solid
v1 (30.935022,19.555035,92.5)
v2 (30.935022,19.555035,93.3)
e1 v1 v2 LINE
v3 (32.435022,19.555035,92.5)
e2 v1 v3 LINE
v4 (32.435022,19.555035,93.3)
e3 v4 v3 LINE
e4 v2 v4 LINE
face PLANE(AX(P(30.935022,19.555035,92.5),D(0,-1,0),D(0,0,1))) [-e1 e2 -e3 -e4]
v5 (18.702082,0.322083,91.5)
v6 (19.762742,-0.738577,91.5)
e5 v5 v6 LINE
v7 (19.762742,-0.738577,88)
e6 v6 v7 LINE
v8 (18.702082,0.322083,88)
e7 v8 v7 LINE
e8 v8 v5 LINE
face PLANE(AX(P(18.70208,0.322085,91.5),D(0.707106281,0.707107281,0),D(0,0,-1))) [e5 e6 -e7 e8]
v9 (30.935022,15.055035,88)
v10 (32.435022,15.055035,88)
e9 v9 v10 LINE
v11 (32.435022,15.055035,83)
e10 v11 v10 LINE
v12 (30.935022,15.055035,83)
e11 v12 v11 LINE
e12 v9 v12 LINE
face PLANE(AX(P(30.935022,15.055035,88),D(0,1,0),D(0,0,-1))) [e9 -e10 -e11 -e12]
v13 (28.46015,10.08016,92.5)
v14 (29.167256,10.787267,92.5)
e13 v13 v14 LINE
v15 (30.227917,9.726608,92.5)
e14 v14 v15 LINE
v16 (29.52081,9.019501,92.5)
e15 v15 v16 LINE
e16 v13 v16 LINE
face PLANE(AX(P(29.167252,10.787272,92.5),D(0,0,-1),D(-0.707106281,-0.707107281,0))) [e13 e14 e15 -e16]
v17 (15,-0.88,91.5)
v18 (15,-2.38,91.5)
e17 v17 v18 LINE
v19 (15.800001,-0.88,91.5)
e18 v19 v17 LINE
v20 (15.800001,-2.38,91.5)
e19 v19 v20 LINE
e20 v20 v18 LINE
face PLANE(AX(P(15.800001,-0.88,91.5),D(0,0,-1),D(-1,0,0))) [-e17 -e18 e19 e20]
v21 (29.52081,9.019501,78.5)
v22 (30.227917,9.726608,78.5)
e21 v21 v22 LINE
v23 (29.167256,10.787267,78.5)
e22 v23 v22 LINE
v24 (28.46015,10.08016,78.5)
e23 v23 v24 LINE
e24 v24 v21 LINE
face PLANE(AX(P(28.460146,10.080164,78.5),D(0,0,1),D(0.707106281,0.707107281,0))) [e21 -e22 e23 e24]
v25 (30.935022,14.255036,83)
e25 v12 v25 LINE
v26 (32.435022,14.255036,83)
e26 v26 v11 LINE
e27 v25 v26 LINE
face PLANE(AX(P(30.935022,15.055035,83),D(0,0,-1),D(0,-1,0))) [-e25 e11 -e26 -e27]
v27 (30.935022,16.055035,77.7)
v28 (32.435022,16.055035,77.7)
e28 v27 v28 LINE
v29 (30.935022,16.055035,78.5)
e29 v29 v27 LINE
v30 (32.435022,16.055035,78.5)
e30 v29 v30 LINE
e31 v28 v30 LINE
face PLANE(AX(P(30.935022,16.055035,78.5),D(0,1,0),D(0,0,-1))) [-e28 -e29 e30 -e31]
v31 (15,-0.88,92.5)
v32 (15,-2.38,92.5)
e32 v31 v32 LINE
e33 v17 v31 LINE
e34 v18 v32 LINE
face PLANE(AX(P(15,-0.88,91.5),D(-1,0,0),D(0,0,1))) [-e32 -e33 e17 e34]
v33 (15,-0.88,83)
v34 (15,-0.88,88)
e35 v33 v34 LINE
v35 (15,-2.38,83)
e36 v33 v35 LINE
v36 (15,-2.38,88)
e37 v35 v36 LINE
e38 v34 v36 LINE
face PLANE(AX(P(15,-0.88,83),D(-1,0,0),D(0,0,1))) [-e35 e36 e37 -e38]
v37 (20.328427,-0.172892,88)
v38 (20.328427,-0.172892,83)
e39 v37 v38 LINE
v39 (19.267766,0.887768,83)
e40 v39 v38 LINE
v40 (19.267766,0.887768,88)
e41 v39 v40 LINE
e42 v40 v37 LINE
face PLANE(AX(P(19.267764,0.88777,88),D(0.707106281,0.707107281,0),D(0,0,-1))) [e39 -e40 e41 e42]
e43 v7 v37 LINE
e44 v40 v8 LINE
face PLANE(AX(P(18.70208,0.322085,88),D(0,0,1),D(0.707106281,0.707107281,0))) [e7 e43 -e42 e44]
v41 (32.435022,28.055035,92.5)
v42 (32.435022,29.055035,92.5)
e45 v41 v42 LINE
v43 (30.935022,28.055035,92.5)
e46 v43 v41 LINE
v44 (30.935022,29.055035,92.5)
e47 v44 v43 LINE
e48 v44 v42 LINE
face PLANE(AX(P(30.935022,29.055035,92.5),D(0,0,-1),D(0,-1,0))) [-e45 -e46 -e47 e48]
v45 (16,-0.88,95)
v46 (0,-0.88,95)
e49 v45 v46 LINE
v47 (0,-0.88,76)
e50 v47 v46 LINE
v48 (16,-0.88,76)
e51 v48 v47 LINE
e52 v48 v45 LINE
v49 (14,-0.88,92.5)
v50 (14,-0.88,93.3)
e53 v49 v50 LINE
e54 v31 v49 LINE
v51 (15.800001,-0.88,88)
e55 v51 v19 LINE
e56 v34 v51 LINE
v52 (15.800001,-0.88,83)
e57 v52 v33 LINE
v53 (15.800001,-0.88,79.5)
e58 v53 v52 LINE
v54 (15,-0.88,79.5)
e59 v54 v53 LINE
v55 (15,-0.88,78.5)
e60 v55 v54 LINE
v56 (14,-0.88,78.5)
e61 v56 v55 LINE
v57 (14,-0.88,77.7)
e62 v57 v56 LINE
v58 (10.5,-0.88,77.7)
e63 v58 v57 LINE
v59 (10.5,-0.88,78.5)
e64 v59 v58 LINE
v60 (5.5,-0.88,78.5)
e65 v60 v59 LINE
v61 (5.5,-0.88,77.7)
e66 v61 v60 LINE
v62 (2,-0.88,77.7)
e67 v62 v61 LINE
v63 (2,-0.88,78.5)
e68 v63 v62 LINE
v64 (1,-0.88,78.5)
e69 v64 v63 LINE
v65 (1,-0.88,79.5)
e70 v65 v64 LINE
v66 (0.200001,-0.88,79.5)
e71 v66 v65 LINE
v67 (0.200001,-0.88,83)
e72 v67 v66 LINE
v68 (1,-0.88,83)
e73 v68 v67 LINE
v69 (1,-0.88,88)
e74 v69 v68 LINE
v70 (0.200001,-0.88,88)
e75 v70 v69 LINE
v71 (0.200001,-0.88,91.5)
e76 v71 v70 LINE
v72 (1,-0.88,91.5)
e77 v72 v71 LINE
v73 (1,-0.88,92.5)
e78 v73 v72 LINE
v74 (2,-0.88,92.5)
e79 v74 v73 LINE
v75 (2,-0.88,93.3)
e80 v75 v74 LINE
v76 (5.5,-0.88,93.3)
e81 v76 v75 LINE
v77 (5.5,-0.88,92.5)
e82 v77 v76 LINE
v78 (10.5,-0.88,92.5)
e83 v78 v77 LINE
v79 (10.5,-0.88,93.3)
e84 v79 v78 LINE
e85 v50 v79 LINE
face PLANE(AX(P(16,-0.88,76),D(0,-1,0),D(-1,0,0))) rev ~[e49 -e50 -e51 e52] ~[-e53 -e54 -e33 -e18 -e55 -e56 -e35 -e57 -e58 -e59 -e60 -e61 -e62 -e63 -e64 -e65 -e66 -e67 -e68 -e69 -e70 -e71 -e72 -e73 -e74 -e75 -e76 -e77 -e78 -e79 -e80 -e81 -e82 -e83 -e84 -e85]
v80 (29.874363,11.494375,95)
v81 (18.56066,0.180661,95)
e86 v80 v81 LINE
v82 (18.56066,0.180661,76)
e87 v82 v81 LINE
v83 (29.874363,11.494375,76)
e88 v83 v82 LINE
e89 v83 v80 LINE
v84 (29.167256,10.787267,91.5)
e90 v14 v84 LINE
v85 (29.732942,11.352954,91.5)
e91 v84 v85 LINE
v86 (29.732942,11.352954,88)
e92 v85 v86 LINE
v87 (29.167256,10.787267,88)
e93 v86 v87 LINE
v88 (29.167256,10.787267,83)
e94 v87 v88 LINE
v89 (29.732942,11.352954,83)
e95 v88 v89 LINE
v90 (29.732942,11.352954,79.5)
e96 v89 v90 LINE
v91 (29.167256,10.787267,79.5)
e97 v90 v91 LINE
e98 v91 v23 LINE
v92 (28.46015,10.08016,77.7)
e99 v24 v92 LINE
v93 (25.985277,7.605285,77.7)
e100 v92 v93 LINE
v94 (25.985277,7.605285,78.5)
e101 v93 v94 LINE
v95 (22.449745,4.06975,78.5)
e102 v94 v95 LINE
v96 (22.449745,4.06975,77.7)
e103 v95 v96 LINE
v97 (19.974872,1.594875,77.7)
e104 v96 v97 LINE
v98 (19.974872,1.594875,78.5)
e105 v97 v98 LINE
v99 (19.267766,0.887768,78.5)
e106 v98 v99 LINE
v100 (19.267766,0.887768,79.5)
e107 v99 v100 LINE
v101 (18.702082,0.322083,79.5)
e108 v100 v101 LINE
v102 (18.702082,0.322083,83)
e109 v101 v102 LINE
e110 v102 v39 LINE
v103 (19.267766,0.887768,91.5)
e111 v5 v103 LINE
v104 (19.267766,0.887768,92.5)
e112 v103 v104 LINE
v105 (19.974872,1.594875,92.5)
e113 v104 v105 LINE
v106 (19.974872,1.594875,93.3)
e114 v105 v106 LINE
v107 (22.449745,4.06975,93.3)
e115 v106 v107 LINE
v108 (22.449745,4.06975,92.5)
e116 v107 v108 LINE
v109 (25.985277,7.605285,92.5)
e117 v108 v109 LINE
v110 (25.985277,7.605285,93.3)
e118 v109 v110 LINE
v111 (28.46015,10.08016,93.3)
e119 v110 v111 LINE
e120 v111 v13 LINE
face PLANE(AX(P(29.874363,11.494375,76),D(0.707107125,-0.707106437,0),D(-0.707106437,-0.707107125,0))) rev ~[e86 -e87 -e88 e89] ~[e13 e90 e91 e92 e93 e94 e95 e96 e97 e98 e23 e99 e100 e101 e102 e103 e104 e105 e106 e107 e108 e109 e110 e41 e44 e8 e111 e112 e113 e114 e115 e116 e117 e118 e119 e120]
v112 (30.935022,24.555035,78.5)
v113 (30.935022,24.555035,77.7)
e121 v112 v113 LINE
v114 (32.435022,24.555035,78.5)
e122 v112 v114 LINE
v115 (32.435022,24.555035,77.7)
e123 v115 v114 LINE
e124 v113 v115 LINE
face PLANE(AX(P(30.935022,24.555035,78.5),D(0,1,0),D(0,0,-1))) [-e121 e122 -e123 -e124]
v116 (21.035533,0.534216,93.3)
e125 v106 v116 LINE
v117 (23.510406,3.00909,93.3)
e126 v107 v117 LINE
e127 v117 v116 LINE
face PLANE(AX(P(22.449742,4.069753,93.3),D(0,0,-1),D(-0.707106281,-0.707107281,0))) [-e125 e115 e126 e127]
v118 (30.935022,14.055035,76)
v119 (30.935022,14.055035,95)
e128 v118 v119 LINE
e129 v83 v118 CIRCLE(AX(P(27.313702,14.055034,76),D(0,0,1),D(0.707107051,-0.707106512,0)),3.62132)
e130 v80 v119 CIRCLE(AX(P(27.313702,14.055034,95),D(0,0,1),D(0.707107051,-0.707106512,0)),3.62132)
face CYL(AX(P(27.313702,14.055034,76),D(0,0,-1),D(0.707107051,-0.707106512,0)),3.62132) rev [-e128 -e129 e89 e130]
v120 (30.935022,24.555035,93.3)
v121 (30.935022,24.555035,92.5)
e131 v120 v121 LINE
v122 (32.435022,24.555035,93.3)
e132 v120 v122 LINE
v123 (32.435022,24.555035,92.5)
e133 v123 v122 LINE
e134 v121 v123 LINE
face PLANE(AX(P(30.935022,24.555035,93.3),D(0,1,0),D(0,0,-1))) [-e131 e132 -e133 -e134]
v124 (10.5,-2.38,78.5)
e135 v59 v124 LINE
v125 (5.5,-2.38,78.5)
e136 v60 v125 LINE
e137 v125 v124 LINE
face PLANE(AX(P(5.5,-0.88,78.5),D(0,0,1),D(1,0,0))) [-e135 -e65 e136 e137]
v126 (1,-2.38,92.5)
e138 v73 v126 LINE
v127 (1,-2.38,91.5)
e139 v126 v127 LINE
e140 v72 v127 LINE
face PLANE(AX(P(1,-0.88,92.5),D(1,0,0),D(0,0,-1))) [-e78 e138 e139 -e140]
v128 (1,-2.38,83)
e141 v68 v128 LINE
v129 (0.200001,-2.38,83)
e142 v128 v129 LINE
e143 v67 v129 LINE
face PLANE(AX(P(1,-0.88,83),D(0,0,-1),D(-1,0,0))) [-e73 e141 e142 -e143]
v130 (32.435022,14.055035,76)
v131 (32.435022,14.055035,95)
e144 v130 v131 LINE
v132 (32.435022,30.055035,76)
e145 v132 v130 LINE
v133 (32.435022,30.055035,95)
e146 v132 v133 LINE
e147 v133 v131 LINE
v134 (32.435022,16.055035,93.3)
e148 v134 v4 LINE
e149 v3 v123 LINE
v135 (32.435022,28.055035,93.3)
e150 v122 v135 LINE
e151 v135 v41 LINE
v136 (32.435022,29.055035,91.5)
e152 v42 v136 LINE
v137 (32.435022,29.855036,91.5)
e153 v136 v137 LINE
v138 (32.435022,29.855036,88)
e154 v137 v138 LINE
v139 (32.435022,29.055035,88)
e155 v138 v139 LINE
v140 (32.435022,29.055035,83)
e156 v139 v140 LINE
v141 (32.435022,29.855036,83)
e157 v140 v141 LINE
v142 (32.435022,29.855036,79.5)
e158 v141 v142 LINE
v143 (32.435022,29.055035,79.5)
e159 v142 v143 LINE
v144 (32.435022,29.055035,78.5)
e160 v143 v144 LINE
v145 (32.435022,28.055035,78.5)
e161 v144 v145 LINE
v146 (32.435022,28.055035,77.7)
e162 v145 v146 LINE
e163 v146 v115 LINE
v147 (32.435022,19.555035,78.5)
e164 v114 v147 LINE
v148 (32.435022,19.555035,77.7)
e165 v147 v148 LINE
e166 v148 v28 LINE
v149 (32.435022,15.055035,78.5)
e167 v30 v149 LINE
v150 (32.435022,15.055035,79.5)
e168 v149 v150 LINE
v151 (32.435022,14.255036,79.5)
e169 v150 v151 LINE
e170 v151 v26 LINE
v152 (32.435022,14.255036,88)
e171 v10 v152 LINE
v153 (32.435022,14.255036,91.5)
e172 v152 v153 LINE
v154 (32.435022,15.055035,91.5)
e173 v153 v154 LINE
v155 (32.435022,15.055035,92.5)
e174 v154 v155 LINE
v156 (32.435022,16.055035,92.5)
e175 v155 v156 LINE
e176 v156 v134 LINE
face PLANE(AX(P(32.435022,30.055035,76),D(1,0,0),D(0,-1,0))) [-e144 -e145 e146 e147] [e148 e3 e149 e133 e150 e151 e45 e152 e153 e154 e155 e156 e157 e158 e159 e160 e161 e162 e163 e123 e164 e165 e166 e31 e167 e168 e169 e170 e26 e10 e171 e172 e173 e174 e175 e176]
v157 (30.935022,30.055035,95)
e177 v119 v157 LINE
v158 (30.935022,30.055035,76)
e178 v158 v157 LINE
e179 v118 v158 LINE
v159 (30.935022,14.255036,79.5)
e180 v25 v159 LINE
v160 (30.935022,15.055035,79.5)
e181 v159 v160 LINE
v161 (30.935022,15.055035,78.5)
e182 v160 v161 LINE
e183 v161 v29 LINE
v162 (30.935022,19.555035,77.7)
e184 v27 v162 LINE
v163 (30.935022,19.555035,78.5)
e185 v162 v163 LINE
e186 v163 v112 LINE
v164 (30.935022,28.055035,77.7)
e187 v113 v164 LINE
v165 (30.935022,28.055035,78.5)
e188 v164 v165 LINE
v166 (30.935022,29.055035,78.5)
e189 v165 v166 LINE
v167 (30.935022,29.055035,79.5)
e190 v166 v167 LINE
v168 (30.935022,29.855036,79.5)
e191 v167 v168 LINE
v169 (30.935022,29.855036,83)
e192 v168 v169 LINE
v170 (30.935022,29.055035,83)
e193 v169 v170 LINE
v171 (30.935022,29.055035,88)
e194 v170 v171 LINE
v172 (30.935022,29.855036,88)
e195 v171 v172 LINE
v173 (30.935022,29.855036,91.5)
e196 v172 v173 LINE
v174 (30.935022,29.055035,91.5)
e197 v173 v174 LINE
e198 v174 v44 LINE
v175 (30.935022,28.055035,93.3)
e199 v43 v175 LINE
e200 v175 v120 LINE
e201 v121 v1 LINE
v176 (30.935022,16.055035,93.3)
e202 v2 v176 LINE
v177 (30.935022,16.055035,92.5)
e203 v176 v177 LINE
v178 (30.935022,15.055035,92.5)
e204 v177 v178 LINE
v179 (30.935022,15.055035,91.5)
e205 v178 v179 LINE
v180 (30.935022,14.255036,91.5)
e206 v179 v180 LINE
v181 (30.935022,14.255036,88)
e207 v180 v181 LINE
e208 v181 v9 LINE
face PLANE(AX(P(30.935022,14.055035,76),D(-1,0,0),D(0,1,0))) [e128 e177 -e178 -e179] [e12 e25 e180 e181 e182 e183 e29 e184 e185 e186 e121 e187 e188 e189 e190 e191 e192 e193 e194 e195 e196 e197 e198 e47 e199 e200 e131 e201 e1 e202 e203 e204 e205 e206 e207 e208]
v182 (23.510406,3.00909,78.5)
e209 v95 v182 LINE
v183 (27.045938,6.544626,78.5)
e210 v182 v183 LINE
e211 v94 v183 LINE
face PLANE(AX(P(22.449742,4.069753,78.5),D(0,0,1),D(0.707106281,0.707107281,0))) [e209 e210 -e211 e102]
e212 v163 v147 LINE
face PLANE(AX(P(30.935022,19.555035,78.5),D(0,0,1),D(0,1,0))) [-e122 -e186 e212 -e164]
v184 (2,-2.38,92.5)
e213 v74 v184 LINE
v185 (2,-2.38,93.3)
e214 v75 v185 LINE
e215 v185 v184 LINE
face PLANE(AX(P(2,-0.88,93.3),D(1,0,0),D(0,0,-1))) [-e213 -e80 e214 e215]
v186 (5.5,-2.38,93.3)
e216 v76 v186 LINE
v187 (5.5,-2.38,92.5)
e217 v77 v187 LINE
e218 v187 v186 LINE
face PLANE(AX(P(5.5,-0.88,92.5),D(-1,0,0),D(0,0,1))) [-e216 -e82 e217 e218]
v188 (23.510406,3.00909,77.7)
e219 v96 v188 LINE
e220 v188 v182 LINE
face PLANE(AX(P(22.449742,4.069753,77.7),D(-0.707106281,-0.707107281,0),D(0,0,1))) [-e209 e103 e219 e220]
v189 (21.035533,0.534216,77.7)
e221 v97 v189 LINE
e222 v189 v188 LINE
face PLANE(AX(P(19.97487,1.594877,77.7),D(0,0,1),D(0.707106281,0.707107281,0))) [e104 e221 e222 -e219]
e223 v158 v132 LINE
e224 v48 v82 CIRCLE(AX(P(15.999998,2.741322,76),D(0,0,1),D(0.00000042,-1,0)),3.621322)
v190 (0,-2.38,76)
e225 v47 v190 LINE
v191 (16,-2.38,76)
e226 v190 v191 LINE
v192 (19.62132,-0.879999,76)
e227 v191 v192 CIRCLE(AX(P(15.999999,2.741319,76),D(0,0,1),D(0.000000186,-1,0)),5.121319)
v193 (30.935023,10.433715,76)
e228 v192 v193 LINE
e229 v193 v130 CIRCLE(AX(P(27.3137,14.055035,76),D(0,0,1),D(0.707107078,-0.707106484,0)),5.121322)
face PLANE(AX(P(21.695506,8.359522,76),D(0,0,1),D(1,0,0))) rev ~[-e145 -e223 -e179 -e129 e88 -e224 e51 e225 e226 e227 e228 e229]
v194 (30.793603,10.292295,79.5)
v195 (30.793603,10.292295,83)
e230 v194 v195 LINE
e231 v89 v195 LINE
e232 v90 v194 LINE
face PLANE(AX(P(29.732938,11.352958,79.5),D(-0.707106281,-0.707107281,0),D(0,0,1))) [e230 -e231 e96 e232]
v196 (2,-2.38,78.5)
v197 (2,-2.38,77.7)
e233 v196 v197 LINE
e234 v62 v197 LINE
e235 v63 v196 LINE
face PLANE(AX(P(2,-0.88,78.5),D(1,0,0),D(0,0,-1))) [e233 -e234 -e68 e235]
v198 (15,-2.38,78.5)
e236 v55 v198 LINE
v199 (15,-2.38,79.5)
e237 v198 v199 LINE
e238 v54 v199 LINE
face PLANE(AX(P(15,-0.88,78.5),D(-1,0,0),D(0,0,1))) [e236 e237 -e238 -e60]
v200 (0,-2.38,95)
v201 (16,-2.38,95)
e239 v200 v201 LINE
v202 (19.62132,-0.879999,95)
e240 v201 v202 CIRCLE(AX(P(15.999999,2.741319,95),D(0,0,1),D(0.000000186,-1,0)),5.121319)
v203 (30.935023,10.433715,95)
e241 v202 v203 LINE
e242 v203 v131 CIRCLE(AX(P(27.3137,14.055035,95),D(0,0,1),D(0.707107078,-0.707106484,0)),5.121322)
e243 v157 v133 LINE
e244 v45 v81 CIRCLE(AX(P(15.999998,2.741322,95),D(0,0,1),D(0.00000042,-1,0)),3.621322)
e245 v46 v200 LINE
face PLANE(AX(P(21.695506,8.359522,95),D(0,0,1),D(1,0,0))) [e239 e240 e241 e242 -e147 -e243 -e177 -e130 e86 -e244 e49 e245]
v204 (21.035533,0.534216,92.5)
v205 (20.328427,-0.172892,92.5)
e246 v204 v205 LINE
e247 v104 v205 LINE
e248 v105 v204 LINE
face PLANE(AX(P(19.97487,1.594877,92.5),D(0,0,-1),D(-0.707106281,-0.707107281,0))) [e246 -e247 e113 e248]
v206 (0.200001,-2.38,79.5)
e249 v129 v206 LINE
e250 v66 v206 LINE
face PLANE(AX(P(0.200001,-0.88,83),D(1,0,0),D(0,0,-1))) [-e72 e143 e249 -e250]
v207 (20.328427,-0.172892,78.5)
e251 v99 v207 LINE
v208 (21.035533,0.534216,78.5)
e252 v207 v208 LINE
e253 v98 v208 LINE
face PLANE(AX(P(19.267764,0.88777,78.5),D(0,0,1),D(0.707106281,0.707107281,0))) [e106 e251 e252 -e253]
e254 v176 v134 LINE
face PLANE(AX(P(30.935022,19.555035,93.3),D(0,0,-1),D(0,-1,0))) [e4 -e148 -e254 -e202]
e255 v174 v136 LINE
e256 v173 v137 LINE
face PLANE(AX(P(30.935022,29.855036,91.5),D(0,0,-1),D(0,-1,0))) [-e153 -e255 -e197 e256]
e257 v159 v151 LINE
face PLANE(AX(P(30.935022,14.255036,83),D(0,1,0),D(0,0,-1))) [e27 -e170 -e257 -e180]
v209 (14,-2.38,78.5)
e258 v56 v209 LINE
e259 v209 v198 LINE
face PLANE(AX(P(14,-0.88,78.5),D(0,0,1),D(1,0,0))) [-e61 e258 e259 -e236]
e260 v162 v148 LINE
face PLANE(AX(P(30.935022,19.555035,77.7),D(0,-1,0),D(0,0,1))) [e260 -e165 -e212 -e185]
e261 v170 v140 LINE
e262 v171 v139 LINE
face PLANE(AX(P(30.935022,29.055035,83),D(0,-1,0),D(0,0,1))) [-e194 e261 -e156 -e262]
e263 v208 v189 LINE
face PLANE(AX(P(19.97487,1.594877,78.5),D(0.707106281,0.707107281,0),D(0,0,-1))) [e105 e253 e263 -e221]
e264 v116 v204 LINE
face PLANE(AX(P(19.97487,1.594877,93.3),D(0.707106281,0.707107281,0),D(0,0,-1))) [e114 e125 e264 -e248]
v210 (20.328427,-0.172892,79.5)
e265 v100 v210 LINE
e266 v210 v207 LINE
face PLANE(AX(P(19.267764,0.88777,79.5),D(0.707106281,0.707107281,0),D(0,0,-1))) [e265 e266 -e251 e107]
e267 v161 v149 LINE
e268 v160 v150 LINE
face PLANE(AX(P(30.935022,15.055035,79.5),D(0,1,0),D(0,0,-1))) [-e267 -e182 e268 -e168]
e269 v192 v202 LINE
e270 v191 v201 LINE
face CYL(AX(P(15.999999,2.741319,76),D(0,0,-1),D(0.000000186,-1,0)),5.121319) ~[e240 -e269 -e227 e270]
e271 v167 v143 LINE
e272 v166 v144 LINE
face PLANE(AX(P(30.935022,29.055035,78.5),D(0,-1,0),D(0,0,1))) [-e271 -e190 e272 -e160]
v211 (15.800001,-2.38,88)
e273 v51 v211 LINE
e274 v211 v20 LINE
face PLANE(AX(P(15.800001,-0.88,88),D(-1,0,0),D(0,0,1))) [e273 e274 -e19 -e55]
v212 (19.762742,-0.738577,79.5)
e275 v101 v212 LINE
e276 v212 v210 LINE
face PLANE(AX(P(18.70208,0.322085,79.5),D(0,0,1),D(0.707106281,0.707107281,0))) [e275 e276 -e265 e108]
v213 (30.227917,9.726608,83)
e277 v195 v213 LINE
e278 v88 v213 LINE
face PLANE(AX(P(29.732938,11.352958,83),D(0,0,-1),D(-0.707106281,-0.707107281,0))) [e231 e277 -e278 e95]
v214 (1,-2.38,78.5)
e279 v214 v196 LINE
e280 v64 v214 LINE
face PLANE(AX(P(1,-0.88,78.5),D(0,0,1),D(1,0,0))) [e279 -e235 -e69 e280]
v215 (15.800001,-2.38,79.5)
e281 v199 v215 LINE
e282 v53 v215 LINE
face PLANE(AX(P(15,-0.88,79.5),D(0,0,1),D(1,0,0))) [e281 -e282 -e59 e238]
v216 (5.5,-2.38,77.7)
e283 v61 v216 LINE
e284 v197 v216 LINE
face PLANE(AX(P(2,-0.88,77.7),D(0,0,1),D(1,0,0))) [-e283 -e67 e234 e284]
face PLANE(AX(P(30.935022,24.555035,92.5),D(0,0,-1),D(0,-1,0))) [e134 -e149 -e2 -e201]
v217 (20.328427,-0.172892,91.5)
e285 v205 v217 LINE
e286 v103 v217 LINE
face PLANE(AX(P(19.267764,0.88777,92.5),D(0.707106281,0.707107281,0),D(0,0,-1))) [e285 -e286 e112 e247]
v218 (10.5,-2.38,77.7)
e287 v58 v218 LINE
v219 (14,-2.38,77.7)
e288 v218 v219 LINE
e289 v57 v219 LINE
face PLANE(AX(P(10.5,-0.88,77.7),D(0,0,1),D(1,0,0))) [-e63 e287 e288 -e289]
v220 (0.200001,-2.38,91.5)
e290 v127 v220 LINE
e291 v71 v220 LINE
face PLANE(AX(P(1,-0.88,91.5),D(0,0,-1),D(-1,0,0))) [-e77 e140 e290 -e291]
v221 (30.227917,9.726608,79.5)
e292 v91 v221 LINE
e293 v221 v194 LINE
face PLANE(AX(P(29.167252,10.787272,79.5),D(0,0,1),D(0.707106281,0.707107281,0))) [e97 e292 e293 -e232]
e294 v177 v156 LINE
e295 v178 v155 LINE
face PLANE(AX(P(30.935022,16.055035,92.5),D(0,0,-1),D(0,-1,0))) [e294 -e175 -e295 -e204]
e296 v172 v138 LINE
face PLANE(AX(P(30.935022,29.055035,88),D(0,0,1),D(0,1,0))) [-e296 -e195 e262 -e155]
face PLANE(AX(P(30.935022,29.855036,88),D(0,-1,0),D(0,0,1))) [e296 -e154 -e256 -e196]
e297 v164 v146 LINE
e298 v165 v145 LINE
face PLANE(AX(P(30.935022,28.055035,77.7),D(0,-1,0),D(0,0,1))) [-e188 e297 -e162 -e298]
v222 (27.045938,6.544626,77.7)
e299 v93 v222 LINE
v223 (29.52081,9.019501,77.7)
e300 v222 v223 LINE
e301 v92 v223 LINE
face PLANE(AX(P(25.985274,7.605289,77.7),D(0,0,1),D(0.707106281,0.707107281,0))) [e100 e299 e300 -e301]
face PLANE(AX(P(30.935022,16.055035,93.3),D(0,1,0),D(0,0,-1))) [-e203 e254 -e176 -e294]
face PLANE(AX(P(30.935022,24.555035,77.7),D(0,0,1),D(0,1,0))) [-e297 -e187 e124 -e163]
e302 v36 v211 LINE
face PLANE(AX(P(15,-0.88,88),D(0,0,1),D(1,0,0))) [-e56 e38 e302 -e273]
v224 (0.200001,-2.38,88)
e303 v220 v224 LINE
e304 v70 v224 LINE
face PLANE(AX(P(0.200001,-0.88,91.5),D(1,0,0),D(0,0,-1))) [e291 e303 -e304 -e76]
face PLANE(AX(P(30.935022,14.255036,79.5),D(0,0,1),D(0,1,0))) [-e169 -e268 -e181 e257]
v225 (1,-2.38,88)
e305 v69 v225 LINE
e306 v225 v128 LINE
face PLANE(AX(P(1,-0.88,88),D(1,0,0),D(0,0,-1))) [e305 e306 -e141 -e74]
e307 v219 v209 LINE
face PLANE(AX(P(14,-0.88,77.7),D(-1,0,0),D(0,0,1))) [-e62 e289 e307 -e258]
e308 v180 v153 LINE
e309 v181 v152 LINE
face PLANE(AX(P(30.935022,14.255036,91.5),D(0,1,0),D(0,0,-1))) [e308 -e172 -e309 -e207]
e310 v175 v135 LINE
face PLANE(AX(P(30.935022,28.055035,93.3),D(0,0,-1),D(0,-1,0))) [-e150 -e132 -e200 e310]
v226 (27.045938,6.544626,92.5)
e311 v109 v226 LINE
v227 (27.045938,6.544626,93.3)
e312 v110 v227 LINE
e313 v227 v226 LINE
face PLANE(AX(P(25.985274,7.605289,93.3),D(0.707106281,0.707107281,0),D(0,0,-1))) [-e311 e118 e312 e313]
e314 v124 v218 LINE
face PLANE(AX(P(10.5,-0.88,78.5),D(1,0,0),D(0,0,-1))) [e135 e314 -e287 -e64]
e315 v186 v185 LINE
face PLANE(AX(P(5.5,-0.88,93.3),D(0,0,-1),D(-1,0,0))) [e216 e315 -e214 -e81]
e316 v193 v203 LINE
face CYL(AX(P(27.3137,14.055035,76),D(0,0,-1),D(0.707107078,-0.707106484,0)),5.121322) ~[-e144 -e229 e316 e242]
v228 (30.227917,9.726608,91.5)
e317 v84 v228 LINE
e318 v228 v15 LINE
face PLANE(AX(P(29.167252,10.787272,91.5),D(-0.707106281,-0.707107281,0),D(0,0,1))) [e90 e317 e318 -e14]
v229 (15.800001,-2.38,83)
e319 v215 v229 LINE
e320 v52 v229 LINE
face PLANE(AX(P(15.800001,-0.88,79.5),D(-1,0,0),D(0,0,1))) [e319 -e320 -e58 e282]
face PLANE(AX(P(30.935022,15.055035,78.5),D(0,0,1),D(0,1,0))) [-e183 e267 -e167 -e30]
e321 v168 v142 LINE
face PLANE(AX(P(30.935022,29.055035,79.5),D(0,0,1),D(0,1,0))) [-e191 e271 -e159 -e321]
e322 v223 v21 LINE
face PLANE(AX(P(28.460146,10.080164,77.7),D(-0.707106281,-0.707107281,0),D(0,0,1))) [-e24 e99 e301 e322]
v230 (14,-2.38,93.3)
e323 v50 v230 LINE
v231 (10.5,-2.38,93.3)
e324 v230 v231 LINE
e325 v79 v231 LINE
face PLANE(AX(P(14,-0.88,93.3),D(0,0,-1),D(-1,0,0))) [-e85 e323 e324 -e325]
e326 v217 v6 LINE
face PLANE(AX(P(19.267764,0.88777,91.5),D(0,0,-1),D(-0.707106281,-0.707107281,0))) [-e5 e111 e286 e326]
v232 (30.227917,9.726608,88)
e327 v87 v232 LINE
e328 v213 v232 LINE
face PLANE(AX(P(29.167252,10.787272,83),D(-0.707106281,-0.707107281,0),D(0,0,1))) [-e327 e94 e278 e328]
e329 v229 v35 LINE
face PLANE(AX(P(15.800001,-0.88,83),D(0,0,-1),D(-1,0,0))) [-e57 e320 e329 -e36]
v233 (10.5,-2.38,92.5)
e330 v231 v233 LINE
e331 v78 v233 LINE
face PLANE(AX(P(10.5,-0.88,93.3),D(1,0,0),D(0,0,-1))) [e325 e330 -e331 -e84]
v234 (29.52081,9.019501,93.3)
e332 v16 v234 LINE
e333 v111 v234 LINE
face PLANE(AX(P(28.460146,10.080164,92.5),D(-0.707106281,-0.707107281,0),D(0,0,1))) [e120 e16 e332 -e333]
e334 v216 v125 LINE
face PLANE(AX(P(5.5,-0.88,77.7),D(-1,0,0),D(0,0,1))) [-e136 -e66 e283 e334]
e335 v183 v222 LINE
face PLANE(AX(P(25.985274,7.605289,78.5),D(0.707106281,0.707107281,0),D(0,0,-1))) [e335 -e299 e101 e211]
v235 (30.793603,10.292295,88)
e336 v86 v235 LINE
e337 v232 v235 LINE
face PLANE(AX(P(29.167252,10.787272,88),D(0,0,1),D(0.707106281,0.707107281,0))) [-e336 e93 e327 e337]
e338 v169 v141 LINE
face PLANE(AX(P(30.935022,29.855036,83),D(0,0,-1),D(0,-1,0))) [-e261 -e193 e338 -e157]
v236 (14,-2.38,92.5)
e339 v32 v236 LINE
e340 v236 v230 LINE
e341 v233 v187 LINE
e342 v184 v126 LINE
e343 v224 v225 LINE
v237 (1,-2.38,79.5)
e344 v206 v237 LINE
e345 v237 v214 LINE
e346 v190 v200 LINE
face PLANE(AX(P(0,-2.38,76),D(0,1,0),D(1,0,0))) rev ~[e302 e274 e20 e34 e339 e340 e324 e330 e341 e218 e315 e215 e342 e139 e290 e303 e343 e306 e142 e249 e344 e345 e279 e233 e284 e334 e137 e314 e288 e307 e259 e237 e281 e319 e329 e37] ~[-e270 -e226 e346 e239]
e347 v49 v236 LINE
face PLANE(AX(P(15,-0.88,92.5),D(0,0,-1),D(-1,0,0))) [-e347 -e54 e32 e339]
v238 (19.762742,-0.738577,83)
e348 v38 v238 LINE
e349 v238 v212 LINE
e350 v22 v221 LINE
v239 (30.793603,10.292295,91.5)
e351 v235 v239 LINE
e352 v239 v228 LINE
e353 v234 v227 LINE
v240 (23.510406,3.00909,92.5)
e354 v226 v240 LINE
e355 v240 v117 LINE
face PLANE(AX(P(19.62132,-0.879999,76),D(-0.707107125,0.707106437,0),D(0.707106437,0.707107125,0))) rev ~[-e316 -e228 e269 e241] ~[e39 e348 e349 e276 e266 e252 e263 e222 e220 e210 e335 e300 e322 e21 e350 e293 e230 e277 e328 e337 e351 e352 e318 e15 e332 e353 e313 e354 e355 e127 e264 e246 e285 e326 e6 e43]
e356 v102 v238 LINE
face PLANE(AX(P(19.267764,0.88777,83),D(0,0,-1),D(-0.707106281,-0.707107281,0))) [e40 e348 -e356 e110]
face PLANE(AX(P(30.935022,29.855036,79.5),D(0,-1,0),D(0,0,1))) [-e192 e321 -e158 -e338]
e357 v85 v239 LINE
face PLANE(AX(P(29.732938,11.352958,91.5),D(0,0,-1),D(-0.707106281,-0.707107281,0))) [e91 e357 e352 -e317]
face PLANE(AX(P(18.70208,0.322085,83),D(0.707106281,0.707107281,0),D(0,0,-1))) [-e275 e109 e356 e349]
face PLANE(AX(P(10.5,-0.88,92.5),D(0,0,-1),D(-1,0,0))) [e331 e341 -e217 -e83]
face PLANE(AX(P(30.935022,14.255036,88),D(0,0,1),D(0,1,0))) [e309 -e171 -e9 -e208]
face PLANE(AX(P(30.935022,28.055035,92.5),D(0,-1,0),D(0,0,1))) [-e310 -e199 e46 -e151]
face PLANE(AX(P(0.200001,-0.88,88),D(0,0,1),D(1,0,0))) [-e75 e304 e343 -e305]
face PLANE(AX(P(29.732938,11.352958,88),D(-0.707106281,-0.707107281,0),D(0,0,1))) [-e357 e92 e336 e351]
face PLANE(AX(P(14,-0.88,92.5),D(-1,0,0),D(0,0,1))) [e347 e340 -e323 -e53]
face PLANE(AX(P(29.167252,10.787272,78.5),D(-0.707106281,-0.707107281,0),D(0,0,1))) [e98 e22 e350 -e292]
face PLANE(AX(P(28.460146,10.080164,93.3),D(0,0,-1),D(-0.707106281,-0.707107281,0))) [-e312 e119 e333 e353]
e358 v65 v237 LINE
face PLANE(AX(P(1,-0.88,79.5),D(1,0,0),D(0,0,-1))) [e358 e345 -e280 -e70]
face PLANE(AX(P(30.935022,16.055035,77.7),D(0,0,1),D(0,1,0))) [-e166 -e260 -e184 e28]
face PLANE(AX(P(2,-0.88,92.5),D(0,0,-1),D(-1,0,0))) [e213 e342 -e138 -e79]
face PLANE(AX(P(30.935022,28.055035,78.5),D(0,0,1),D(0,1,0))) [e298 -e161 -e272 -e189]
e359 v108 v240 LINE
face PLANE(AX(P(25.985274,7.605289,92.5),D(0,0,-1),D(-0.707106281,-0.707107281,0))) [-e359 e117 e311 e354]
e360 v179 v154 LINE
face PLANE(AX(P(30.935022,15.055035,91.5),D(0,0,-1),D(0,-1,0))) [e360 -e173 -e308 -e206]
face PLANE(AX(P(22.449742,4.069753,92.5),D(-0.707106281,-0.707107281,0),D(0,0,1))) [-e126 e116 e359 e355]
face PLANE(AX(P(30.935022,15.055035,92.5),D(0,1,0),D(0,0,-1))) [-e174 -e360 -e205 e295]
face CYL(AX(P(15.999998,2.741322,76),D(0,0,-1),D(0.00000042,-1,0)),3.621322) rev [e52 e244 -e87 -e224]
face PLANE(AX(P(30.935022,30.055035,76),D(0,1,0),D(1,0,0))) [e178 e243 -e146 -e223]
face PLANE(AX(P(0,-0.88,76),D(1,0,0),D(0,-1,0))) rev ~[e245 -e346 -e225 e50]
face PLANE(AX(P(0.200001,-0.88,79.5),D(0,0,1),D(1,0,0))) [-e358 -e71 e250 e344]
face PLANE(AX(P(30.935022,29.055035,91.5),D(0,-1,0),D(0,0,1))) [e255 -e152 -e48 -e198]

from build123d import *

# Parameters (mm, degrees)
PAD_DEPTH       = 19
POCKET_DEPTH    = 11.62232
POCKET002_DEPTH = 1.501
POCKET003_DEPTH = 1.501


with BuildPart() as part:
    # Sketch → Pad (new body)
    with BuildSketch(Plane.XY):
        with BuildLine():
            Line((0, 0), (16, 0))
            ThreePointArc((16, 0), (17.959845, 0.389838), (19.62132, 1.500001))
            Line((19.62132, 1.500001), (30.935023, 12.813715))
            ThreePointArc((30.935023, 12.813715), (32.045185, 14.475191), (32.435022, 16.435035))
            Line((32.435022, 32.435035), (32.435022, 16.435035))
            Line((30.935022, 32.435035), (32.435022, 32.435035))
            Line((30.935022, 16.435035), (30.935022, 32.435035))
            ThreePointArc((29.874363, 13.874375), (30.659366, 15.049216), (30.935022, 16.435035))
            Line((29.874363, 13.874375), (18.56066, 2.560661))
            ThreePointArc((16, 1.5), (17.385819, 1.775657), (18.56066, 2.560661))
            Line((16, 1.5), (0, 1.5))
            Line((0, 1.5), (0, 0))
        make_face()
    extrude(amount=PAD_DEPTH)

    # Sketch004 → Pocket (cut, through all)
    with BuildSketch(Plane(origin=(8.000009, -8.000001, 0), x_dir=(-0.707106, -0.707107, 0), z_dir=(-0.707107, 0.707106, 0))):
        Polygon((-28.935023, 17.3), (-25.435023, 17.3), (-25.435023, 16.5), (-20.435023, 16.5), (-20.435023, 17.3), (-16.935023, 17.3), (-16.935023, 16.5), (-15.935023, 16.5), (-15.935023, 15.5), (-15.135024, 15.5), (-15.135024, 12), (-15.935023, 12), (-15.935023, 7), (-15.135024, 7), (-15.135024, 3.5), (-15.935023, 3.5), (-15.935023, 2.5), (-16.935023, 2.5), (-16.935023, 1.7), (-20.435023, 1.7), (-20.435023, 2.5), (-25.435023, 2.5), (-25.435023, 1.7), (-28.935023, 1.7), (-28.935023, 2.5), (-29.935023, 2.5), (-29.935023, 3.5), (-30.735024, 3.5), (-30.735024, 7), (-29.935023, 7), (-29.935023, 12), (-30.735024, 12), (-30.735024, 15.5), (-29.935023, 15.5), (-29.935023, 16.5), (-28.935023, 16.5), align=None)
    extrude(amount=-POCKET_DEPTH, mode=Mode.SUBTRACT)

    # Sketch004001 → Pocket002 (cut, through all)
    with BuildSketch(Plane(origin=(30.935022, 0, 0), x_dir=(0, -1, 0), z_dir=(-1, 0, 0))):
        Polygon((-30.435035, 17.3), (-26.935035, 17.3), (-26.935035, 16.5), (-21.935035, 16.5), (-21.935035, 17.3), (-18.435035, 17.3), (-18.435035, 16.5), (-17.435035, 16.5), (-17.435035, 15.5), (-16.635036, 15.5), (-16.635036, 12), (-17.435035, 12), (-17.435035, 7), (-16.635036, 7), (-16.635036, 3.5), (-17.435035, 3.5), (-17.435035, 2.5), (-18.435035, 2.5), (-18.435035, 1.7), (-21.935035, 1.7), (-21.935035, 2.5), (-26.935035, 2.5), (-26.935035, 1.7), (-30.435035, 1.7), (-30.435035, 2.5), (-31.435035, 2.5), (-31.435035, 3.5), (-32.235036, 3.5), (-32.235036, 7), (-31.435035, 7), (-31.435035, 12), (-32.235036, 12), (-32.235036, 15.5), (-31.435035, 15.5), (-31.435035, 16.5), (-30.435035, 16.5), align=None)
    extrude(amount=-POCKET002_DEPTH, mode=Mode.SUBTRACT)

    # Sketch004001001 → Pocket003 (cut, through all)
    with BuildSketch(Plane(origin=(0, 1.5, 0), x_dir=(-1, 0, 0), z_dir=(0, 1, 0))):
        Polygon((-14, 17.3), (-10.5, 17.3), (-10.5, 16.5), (-5.5, 16.5), (-5.5, 17.3), (-2, 17.3), (-2, 16.5), (-1, 16.5), (-1, 15.5), (-0.200001, 15.5), (-0.200001, 12), (-1, 12), (-1, 7), (-0.200001, 7), (-0.200001, 3.5), (-1, 3.5), (-1, 2.5), (-2, 2.5), (-2, 1.7), (-5.5, 1.7), (-5.5, 2.5), (-10.5, 2.5), (-10.5, 1.7), (-14, 1.7), (-14, 2.5), (-15, 2.5), (-15, 3.5), (-15.800001, 3.5), (-15.800001, 7), (-15, 7), (-15, 12), (-15.800001, 12), (-15.800001, 15.5), (-15, 15.5), (-15, 16.5), (-14, 16.5), align=None)
    extrude(amount=-POCKET003_DEPTH, mode=Mode.SUBTRACT)


with BuildPart() as part_1:
    # Clone placement: moved
    add(part.part.moved(Location((2.38, -2.38, 19))))


with BuildPart() as part_2:
    # Clone001 placement: moved
    add(part_1.part.moved(Location((4.75, 4.76, 19))))


with BuildPart() as part_3:
    # Clone002 placement: moved
    add(part_2.part.moved(Location((-2.38, -2.38, 19))))


with BuildPart() as part_4:
    # Clone003 placement: moved
    add(part_3.part.moved(Location((-4.75, -2.38, 19))))


solid = part_4.part
